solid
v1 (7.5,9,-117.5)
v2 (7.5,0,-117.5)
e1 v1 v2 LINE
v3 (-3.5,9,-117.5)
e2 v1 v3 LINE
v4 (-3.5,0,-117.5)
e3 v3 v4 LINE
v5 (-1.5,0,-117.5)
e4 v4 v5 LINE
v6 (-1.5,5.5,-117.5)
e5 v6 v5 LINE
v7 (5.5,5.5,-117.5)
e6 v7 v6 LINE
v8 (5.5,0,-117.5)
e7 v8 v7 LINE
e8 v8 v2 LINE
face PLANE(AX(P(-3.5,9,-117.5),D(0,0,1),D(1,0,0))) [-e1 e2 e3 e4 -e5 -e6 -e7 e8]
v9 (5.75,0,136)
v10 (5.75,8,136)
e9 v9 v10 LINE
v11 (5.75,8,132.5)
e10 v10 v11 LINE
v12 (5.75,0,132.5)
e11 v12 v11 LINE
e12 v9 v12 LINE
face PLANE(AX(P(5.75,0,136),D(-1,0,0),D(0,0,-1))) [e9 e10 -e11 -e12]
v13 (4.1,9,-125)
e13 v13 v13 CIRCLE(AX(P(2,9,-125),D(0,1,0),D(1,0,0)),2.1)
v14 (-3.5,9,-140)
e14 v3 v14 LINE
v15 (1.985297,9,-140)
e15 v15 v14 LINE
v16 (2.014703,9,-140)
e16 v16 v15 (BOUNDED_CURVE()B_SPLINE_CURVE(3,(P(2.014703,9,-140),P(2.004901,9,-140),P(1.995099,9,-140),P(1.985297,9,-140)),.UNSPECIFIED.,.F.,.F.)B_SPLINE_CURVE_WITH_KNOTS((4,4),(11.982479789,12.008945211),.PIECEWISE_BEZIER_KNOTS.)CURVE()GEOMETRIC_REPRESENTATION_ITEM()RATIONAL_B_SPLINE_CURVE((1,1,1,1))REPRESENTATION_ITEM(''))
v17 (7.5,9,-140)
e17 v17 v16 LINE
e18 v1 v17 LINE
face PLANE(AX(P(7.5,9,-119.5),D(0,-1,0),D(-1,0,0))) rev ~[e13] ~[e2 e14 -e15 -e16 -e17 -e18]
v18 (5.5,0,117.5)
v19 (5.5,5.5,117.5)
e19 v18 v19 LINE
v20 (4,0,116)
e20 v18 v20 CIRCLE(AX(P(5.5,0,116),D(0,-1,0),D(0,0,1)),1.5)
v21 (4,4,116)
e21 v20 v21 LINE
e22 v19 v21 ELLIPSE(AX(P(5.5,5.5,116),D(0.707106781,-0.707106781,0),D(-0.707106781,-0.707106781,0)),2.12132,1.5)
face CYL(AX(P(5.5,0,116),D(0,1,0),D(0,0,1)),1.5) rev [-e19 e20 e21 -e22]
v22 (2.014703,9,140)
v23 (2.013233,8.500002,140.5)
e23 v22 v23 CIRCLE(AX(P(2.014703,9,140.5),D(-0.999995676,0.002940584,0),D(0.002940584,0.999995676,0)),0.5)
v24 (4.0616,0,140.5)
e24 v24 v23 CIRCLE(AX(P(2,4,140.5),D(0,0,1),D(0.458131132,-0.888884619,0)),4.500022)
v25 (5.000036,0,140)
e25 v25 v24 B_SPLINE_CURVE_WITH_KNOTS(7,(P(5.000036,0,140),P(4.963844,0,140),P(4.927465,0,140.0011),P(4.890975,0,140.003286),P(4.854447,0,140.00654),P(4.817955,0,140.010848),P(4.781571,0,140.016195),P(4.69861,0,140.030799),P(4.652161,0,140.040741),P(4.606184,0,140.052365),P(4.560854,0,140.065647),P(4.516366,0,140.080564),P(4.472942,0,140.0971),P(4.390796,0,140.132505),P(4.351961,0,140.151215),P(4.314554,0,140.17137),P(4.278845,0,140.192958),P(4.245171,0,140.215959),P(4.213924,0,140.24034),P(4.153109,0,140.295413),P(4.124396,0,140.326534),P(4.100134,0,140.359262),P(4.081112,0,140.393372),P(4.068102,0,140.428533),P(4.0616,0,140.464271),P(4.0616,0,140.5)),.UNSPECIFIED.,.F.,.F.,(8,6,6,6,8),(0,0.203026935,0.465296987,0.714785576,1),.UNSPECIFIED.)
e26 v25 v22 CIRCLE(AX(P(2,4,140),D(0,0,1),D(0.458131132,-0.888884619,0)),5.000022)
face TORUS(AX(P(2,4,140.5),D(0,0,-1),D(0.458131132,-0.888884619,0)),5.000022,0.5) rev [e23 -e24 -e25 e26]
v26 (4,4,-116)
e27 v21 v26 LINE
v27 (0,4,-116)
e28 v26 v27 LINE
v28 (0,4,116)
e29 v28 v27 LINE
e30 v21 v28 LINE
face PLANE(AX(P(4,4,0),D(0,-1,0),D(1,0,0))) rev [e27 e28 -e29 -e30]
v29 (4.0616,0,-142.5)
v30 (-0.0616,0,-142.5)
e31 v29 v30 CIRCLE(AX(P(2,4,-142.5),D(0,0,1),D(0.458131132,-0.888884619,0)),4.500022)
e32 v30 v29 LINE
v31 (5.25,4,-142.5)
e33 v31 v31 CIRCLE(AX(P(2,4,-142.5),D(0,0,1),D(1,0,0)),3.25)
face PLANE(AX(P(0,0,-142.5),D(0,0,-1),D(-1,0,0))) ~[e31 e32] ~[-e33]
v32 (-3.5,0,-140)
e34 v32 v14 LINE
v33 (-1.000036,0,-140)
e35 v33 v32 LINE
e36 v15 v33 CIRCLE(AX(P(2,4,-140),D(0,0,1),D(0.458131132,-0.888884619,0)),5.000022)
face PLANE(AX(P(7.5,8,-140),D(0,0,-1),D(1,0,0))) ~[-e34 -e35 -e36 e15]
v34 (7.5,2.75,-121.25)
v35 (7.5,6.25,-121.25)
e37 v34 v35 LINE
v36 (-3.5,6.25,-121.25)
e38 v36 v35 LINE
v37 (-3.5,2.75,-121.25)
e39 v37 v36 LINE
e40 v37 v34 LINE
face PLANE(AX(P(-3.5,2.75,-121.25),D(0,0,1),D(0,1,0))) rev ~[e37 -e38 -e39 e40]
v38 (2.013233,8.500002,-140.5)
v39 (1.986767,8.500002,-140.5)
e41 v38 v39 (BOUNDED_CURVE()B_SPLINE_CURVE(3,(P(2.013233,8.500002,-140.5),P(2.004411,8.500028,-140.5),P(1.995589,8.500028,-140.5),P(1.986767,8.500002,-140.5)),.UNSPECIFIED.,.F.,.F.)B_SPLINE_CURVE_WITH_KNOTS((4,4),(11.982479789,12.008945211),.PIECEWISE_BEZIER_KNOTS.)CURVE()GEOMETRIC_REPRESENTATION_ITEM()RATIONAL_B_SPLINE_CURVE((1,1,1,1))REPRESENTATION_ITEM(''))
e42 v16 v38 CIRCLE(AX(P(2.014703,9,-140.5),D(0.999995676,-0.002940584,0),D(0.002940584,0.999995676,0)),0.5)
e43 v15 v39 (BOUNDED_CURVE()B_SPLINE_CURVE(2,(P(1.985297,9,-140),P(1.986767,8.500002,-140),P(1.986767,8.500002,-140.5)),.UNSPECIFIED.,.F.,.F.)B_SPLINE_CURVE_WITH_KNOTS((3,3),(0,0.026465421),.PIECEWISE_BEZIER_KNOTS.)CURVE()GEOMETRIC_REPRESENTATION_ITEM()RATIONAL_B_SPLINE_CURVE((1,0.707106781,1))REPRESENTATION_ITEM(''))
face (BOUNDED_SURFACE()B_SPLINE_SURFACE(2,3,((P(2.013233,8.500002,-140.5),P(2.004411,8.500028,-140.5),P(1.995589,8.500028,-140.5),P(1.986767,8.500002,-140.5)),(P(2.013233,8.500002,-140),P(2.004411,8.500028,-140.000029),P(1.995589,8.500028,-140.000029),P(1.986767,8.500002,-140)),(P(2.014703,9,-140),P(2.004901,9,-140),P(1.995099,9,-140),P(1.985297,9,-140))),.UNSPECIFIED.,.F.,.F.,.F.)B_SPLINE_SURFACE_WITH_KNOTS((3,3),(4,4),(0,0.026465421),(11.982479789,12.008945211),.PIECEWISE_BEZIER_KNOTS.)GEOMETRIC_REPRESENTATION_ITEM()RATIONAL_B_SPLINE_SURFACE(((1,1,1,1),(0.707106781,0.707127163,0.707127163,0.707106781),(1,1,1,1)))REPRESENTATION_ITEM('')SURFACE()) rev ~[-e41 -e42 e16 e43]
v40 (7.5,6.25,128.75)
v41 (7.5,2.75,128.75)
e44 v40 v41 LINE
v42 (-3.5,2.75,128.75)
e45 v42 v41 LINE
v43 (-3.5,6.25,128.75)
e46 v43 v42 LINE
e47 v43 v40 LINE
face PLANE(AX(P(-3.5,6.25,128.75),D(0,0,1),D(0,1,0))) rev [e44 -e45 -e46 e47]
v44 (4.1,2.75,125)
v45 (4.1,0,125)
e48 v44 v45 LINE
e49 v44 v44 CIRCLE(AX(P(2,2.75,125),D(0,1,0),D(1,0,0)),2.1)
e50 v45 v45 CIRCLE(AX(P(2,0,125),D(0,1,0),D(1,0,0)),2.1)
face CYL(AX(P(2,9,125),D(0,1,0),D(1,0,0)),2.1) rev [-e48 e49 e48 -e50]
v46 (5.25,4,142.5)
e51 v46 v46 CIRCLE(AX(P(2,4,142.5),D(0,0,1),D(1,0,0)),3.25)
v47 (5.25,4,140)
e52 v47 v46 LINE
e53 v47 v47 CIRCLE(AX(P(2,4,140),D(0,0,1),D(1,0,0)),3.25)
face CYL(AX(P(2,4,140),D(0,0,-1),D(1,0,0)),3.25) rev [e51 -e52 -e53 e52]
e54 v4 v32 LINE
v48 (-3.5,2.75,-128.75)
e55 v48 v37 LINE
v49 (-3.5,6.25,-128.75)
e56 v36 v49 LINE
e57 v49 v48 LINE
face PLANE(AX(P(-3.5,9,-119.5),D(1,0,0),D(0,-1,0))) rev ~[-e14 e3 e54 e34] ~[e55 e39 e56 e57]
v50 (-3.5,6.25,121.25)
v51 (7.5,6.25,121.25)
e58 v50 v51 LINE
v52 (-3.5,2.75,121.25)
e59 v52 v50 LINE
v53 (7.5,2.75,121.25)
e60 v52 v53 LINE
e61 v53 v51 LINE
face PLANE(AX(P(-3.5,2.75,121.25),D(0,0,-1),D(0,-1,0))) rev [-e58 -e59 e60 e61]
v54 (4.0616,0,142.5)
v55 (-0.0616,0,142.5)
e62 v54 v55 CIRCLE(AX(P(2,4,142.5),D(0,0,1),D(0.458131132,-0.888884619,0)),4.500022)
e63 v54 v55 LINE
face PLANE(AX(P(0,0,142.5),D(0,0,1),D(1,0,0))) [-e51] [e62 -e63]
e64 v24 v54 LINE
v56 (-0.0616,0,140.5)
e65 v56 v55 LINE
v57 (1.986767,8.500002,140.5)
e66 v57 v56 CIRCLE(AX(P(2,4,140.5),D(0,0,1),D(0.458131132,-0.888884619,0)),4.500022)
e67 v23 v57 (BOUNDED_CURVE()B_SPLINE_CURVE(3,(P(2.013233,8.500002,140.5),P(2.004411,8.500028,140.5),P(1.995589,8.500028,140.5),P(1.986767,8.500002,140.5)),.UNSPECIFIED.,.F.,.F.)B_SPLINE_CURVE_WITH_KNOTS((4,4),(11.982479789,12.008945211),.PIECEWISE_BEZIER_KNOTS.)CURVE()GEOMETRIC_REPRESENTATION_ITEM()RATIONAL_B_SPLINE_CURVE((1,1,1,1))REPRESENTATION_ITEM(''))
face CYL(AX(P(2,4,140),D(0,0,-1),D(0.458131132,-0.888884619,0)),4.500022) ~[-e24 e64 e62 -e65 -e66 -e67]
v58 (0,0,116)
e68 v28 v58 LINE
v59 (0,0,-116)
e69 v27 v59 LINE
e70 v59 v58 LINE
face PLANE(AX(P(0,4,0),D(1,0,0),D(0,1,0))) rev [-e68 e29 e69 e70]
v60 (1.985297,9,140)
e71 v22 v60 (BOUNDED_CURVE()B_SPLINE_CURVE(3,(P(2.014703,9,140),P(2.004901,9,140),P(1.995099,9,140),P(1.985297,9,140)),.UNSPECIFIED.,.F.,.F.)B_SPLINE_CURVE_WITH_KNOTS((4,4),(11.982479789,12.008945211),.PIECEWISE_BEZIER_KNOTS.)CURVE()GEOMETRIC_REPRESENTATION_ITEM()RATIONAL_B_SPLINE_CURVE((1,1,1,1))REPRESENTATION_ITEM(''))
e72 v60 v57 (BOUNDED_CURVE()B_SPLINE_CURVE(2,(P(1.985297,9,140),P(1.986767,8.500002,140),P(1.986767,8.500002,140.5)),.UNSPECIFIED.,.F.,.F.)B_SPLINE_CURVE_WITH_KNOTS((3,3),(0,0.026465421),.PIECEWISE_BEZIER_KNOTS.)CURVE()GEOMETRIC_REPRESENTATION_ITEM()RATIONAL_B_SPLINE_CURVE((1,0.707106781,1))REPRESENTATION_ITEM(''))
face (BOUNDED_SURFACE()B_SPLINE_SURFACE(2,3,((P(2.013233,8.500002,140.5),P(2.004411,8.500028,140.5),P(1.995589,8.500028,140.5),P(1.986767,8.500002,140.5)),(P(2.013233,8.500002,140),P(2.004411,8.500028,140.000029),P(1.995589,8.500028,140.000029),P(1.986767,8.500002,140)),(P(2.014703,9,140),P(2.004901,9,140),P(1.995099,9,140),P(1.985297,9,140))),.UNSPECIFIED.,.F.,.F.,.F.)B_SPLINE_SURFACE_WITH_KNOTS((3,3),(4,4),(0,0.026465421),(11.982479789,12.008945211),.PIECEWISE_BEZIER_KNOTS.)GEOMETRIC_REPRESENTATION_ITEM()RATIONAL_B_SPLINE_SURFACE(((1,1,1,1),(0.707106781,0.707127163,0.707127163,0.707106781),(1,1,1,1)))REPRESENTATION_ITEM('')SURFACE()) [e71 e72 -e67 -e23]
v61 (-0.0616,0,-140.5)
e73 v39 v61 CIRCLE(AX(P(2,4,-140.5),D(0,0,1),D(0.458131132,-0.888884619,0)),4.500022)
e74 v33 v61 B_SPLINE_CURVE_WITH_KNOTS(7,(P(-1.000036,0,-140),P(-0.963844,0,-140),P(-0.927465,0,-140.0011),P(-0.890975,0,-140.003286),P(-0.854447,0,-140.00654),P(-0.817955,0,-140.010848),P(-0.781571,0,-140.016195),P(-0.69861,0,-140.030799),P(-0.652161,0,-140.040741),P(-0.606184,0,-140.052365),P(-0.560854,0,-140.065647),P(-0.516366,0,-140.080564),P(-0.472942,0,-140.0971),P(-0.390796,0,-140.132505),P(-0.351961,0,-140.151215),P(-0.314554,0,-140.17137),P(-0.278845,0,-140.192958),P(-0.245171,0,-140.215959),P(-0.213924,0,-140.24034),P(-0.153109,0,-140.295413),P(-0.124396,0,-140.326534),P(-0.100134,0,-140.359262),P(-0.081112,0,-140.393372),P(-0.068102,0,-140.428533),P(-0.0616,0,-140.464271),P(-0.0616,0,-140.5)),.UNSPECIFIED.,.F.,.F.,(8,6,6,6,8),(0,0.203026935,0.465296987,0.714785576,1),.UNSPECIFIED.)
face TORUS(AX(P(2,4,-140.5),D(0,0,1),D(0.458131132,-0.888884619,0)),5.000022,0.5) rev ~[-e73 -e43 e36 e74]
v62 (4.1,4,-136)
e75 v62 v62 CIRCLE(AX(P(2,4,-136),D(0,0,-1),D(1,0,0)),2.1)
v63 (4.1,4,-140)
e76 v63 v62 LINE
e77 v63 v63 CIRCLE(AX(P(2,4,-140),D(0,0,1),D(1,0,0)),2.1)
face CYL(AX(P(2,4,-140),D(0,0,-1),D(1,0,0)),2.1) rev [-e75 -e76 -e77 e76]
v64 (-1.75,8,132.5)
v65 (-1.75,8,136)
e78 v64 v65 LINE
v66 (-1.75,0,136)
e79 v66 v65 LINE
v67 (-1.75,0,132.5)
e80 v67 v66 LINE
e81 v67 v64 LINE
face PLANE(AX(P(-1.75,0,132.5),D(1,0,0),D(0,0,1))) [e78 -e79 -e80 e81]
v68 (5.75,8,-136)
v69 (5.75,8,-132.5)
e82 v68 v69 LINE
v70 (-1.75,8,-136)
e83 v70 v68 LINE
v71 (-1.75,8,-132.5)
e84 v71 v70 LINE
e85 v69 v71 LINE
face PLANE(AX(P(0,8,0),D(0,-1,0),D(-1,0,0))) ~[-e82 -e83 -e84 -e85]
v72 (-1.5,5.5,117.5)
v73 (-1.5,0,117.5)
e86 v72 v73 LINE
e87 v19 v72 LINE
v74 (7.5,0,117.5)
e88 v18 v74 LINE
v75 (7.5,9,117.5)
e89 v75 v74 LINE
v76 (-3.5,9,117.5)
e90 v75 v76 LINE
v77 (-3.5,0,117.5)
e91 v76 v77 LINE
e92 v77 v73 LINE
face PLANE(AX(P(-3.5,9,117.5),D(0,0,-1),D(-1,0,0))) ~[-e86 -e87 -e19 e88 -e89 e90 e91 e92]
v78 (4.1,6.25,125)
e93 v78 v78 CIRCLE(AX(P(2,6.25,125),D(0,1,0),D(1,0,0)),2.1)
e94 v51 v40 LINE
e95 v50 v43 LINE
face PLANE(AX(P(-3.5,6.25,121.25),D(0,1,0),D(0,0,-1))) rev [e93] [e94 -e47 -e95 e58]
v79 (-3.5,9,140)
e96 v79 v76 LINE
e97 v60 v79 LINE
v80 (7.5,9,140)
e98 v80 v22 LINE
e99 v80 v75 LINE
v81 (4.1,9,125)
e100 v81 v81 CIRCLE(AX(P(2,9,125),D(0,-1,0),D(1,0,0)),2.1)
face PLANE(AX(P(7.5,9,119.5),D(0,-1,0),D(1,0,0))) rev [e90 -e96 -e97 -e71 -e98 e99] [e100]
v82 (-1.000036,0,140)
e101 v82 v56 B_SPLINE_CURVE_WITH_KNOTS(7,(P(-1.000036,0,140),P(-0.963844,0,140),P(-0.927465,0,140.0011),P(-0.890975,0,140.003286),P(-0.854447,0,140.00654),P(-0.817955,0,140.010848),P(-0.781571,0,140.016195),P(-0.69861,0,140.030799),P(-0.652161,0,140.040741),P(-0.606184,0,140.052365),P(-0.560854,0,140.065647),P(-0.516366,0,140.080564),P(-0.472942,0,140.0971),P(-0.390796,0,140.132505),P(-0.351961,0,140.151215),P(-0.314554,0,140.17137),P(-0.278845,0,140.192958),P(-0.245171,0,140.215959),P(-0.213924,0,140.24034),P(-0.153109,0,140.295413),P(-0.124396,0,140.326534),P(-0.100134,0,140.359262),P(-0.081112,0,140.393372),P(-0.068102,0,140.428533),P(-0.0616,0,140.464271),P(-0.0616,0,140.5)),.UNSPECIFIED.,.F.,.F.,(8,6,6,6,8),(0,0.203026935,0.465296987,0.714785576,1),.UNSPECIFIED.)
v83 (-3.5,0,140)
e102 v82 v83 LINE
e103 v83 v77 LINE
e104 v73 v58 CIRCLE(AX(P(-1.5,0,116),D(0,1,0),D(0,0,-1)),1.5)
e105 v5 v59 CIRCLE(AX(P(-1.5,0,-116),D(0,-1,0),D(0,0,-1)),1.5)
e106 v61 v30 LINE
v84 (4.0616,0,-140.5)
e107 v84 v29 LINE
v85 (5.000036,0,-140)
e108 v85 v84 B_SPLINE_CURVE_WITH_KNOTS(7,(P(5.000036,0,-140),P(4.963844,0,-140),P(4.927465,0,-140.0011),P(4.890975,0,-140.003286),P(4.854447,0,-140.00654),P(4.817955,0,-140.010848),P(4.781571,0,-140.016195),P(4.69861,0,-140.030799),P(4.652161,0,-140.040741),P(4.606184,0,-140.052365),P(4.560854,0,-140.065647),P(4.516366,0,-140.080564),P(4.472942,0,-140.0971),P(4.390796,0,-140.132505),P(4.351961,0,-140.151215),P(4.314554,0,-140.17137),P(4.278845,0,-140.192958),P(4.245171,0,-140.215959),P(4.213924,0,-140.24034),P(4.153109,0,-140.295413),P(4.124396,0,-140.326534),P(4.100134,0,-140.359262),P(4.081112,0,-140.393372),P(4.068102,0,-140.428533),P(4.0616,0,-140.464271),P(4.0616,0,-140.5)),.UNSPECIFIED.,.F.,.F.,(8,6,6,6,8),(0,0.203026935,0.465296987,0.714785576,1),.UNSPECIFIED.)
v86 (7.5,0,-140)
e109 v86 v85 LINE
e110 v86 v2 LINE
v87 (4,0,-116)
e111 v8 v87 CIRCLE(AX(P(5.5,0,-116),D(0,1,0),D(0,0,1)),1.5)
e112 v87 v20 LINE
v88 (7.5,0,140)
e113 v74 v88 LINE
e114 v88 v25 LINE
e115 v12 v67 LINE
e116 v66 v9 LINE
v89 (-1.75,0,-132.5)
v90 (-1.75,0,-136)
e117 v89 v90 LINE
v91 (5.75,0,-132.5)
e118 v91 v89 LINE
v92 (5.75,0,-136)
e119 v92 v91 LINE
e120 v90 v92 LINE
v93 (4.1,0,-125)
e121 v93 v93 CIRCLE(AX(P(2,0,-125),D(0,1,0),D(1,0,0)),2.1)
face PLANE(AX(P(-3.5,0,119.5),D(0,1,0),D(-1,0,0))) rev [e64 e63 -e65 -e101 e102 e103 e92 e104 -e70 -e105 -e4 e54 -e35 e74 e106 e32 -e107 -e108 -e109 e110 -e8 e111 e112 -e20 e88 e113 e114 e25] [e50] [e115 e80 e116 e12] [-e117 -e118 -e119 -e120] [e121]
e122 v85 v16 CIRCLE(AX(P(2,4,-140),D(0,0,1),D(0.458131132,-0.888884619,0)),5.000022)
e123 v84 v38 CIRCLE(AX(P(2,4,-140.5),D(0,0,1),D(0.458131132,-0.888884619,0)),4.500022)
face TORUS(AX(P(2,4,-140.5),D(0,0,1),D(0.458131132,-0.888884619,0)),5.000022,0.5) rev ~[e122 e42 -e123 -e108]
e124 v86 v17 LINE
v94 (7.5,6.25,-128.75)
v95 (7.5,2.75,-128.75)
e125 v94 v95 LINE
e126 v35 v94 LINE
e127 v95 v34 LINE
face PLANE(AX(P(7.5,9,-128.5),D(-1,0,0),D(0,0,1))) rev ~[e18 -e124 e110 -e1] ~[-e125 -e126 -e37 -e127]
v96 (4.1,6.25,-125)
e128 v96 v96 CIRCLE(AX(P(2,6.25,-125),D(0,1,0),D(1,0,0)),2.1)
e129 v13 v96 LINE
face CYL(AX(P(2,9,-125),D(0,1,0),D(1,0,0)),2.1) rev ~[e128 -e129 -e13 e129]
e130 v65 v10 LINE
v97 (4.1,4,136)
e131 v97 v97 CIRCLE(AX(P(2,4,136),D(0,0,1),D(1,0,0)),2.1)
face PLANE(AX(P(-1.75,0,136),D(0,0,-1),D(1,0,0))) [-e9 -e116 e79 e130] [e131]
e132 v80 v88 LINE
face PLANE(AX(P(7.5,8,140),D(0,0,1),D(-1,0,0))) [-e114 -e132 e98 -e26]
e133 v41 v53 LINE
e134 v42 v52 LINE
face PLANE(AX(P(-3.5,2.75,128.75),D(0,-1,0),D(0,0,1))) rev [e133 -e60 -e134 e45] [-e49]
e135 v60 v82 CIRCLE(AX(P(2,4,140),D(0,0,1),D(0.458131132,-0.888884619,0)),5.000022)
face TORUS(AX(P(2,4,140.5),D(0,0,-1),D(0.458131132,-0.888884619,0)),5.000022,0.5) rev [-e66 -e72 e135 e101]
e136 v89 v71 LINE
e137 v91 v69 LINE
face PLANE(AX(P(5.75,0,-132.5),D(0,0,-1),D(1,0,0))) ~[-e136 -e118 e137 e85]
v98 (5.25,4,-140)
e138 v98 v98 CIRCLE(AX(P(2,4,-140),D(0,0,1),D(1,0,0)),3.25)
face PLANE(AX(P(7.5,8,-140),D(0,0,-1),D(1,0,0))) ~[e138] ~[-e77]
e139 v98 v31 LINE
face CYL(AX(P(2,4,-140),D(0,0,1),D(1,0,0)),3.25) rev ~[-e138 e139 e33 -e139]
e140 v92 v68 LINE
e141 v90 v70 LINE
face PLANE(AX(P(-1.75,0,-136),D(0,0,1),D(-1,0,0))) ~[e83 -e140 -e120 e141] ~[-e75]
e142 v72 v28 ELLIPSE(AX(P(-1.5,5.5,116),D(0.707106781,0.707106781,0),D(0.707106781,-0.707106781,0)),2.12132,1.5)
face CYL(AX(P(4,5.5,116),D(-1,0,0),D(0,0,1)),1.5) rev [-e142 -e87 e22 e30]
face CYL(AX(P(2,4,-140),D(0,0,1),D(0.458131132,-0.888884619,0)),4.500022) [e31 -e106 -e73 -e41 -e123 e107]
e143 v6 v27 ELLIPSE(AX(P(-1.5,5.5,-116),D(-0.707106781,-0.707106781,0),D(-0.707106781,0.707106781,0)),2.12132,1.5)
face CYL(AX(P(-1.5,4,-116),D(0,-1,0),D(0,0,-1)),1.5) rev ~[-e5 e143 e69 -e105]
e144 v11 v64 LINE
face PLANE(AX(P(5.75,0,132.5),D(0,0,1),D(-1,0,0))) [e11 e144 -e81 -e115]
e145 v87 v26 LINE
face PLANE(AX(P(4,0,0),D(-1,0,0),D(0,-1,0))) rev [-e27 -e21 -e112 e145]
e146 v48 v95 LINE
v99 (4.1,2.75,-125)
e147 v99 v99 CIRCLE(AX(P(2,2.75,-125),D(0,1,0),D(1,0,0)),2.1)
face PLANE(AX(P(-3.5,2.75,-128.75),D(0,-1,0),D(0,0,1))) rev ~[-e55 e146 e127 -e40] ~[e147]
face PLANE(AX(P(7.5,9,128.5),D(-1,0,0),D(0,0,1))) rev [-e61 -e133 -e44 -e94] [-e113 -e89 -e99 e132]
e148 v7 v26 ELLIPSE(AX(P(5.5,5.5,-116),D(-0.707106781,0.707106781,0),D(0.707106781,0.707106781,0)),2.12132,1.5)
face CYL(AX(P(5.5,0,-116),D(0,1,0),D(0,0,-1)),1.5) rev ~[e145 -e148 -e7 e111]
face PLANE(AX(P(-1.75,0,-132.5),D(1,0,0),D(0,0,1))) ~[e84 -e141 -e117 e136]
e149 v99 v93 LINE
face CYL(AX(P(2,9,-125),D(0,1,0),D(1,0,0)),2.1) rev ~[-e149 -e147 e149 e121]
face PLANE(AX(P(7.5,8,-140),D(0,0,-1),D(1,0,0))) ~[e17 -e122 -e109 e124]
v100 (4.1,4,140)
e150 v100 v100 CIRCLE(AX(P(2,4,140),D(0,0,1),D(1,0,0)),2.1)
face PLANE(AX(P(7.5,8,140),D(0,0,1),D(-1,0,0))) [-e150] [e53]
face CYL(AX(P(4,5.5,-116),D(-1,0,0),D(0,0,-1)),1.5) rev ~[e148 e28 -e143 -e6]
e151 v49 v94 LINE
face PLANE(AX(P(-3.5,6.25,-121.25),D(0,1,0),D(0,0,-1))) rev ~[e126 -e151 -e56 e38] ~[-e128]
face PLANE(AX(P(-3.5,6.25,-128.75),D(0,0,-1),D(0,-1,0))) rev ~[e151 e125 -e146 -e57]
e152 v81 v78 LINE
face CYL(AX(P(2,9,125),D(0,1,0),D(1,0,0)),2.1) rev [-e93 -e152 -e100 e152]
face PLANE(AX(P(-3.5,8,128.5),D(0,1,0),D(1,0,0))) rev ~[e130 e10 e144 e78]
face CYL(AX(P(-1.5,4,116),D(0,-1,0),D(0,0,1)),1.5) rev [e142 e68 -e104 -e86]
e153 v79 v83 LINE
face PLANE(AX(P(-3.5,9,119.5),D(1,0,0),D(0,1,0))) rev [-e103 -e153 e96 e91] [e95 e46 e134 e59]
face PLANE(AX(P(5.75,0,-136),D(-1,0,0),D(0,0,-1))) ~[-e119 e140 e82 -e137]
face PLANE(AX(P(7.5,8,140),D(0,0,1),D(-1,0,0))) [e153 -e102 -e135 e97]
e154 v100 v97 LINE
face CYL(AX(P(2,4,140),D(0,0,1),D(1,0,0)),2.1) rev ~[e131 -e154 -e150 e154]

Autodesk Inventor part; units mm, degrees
ref_plane "YZ Plane" through (0, 0, 0) normal (1, 0, 0) x (0, 1, 0)
ref_plane "XZ Plane" through (0, 0, 0) normal (0, 1, 0) x (-1, 0, 0)
ref_plane "XY Plane" through (0, 0, 0) normal (0, 0, 1) x (1, 0, 0)
sketch "Sketch1" plane through (0, 0, 0) normal (0, 0, 1) x (1, 0, 0)
  line L0 (0, 0) -> (4, 0)
  line L1 (4, 0) -> (4, 4)
  line L2 (4, 4) -> (0, 4)
  line L3 (0, 4) -> (0, 0)
  dimension "d0" = 4
  dimension "d1" = 4
extrude "Extrusion1" add sketch "Sketch1" along normal blind 128.5
sketch "Sketch3" plane through (0, 0, 128.5) normal (0, 0, 1) x (1, 0, 0)
  line L0 (0, 0) -> (4, 0) projected
  line L1 (-3.5, 0) -> (7.5, 0)
  line L2 (7.5, 0) -> (7.5, 8)
  line L3 (7.5, 8) -> (-3.5, 8)
  line L4 (-3.5, 8) -> (-3.5, 0)
  point P0 (2, 0)
  dimension "d4" = 11
  dimension "d5" = 8
extrude "Extrusion2" add sketch "Sketch3" along normal blind 11.5
sketch "Sketch4" plane through (0, 0, 0) normal (0, -1, 0) x (1, 0, 0)
  line L0 (7.5, 128.5) -> (7.5, 140) projected
  line L1 (-3.5, 140) -> (7.5, 140) projected
  line L2 (-1.75, 136) -> (5.75, 136)
  line L3 (5.75, 136) -> (5.75, 132.5)
  line L4 (5.75, 132.5) -> (-1.75, 132.5)
  line L5 (-1.75, 132.5) -> (-1.75, 136)
  point P0 (2, 136)
  point P1 (2, 140)
  point P2 (5.75, 134.25)
  point P3 (7.5, 134.25)
  dimension "d8" = 7.5
  dimension "d9" = 3.5
extrude "Extrusion3" cut sketch "Sketch4" against normal blind 8
sketch "Sketch5" plane through (0, 0, 140) normal (0, 0, 1) x (1, 0, 0)
  circle A0 centre (2, 4) radius 2.1
  point P0 (0, 0)
  dimension "d12" = 4.2
extrude "Extrusion4" cut sketch "Sketch5" against normal up to surface (7.5 mm away)
sketch "Sketch6" plane through (-3.5, 8, 128.5) normal (0, 1, 0) x (1, 0, 0)
  line L0 (11, 0) -> (0, 0) projected
  line L1 (0, 0) -> (0, -11.5) projected
  line L2 (11, -11.5) -> (0, -11.5) projected
  line L3 (11, 0) -> (11, -11.5) projected
  point P0 (3.5, 128.5)
extrude "Extrusion5" add sketch "Sketch6" along normal blind 1
mirror "Mirror2" about plane through (0, 0, 0) normal (0, 0, 1) of "Extrusion1", "Extrusion5", "Extrusion2", "Extrusion3", "Extrusion4"
sketch "Sketch7" plane through (0, 0, 140) normal (0, 0, 1) x (1, 0, 0)
  line L0 (-3.5, 0) -> (7.5, 0) projected
  arc A0 (4.0616, 0) -> (-0.0616, 0) centre (2, 4) ccw
  line L1 (0, 0) -> (-0.0616, 0)
  line L2 (-0.0616, 0) -> (4.0616, 0)
  circle A1 centre (2, 4) radius 3.25
  dimension "d17" = 9
  dimension "d18" = 6.5
extrude "Extrusion6" add sketch "Sketch7" along normal blind 2.5
sketch "Sketch8" plane through (-3.5, 8, 128.5) normal (0, -1, 0) x (1, 0, 0)
  line L0 (1.75, 7.5) -> (1.75, 4) projected
  line L1 (1.75, 4) -> (9.25, 4) projected
  line L2 (9.25, 4) -> (9.25, 7.5) projected
  line L3 (9.25, 7.5) -> (1.75, 7.5) projected
  point P0 (3.5, -128.5)
mirror "Mirror3" about plane through (0, 0, 0) normal (0, 0, 1) of "Extrusion6"
sketch "Sketch10" plane through (-3.5, 9, -128.5) normal (0, 1, 0) x (1, 0, 0)
  line L0 (0, 0) -> (11, 0)
  line L1 (11, 0) -> (11, -9)
  line L2 (11, -9) -> (0, -9)
  line L3 (0, -9) -> (0, 0)
  point P0 (3.5, -128.5)
  dimension "d21" = 9
extrude "Extrusion7" add sketch "Sketch10" against normal up to surface (9 mm away)
sketch "Sketch11" plane through (-3.5, 9, -140) normal (0, 1, 0) x (1, 0, 0)
  line L0 (11, -20.5) -> (0, -20.5) projected
  circle A0 centre (5.5, -15) radius 2.1
  point P0 (3.5, -140)
  dimension "d24" = 4.2
  dimension "d25" = 5.5
extrude "Extrusion8" cut sketch "Sketch11" against normal blind 11
sketch "Sketch12" plane through (-3.5, 0, -140) normal (-1, 0, 0) x (0, 0, 1)
  line L0 (20.5, 9) -> (20.5, 0) projected
  line L1 (18.75, 6.25) -> (11.25, 6.25)
  line L2 (11.25, 6.25) -> (11.25, 2.75)
  line L3 (11.25, 2.75) -> (18.75, 2.75)
  line L4 (18.75, 2.75) -> (18.75, 6.25)
  point P0 (140, 0)
  point P1 (18.75, 4.5)
  point P2 (20.5, 4.5)
  dimension "d28" = 7.5
  dimension "d29" = 3.5
  dimension "d30" = 1.75
extrude "Extrusion9" cut sketch "Sketch12" against normal blind 11
fillet "Fillet3" radius 0.5 1 edges at (2, 8.5, -140)
sketch "Sketch14" plane through (-3.5, 9, -119.5) normal (0, 0, 1) x (1, 0, 0)
  line L0 (7.5, -9) -> (7.5, -5) projected
  line L1 (7.5, -9) -> (11, -9) projected
  line L2 (11, 0) -> (11, -9) projected
  line L3 (11, 0) -> (0, 0) projected
  line L4 (0, 0) -> (0, -9) projected
  line L5 (0, -9) -> (3.5, -9) projected
  line L6 (3.5, -5) -> (3.5, -9) projected
  line L7 (7.5, -5) -> (3.5, -5) projected
extrude "Extrusion10" add sketch "Sketch14" along normal blind 2
fillet "Fillet4" radius 1.5 3 edges at (4, 2, -117.5) (2, 4, -117.5) (0, 2, -117.5)
mirror "Mirror5" about plane through (0, 0, 0) normal (0, 0, 1) of "Extrusion7", "Extrusion8", "Extrusion9", "Extrusion10"
fillet "Fillet5" radius 1.5 3 edges at (0, 2, 117.5) (2, 4, 117.5) (4, 2, 117.5)
fillet "Fillet6" radius 0.5 1 edges at (2, 8.5, 140)
properties part number "Axle280mm"
